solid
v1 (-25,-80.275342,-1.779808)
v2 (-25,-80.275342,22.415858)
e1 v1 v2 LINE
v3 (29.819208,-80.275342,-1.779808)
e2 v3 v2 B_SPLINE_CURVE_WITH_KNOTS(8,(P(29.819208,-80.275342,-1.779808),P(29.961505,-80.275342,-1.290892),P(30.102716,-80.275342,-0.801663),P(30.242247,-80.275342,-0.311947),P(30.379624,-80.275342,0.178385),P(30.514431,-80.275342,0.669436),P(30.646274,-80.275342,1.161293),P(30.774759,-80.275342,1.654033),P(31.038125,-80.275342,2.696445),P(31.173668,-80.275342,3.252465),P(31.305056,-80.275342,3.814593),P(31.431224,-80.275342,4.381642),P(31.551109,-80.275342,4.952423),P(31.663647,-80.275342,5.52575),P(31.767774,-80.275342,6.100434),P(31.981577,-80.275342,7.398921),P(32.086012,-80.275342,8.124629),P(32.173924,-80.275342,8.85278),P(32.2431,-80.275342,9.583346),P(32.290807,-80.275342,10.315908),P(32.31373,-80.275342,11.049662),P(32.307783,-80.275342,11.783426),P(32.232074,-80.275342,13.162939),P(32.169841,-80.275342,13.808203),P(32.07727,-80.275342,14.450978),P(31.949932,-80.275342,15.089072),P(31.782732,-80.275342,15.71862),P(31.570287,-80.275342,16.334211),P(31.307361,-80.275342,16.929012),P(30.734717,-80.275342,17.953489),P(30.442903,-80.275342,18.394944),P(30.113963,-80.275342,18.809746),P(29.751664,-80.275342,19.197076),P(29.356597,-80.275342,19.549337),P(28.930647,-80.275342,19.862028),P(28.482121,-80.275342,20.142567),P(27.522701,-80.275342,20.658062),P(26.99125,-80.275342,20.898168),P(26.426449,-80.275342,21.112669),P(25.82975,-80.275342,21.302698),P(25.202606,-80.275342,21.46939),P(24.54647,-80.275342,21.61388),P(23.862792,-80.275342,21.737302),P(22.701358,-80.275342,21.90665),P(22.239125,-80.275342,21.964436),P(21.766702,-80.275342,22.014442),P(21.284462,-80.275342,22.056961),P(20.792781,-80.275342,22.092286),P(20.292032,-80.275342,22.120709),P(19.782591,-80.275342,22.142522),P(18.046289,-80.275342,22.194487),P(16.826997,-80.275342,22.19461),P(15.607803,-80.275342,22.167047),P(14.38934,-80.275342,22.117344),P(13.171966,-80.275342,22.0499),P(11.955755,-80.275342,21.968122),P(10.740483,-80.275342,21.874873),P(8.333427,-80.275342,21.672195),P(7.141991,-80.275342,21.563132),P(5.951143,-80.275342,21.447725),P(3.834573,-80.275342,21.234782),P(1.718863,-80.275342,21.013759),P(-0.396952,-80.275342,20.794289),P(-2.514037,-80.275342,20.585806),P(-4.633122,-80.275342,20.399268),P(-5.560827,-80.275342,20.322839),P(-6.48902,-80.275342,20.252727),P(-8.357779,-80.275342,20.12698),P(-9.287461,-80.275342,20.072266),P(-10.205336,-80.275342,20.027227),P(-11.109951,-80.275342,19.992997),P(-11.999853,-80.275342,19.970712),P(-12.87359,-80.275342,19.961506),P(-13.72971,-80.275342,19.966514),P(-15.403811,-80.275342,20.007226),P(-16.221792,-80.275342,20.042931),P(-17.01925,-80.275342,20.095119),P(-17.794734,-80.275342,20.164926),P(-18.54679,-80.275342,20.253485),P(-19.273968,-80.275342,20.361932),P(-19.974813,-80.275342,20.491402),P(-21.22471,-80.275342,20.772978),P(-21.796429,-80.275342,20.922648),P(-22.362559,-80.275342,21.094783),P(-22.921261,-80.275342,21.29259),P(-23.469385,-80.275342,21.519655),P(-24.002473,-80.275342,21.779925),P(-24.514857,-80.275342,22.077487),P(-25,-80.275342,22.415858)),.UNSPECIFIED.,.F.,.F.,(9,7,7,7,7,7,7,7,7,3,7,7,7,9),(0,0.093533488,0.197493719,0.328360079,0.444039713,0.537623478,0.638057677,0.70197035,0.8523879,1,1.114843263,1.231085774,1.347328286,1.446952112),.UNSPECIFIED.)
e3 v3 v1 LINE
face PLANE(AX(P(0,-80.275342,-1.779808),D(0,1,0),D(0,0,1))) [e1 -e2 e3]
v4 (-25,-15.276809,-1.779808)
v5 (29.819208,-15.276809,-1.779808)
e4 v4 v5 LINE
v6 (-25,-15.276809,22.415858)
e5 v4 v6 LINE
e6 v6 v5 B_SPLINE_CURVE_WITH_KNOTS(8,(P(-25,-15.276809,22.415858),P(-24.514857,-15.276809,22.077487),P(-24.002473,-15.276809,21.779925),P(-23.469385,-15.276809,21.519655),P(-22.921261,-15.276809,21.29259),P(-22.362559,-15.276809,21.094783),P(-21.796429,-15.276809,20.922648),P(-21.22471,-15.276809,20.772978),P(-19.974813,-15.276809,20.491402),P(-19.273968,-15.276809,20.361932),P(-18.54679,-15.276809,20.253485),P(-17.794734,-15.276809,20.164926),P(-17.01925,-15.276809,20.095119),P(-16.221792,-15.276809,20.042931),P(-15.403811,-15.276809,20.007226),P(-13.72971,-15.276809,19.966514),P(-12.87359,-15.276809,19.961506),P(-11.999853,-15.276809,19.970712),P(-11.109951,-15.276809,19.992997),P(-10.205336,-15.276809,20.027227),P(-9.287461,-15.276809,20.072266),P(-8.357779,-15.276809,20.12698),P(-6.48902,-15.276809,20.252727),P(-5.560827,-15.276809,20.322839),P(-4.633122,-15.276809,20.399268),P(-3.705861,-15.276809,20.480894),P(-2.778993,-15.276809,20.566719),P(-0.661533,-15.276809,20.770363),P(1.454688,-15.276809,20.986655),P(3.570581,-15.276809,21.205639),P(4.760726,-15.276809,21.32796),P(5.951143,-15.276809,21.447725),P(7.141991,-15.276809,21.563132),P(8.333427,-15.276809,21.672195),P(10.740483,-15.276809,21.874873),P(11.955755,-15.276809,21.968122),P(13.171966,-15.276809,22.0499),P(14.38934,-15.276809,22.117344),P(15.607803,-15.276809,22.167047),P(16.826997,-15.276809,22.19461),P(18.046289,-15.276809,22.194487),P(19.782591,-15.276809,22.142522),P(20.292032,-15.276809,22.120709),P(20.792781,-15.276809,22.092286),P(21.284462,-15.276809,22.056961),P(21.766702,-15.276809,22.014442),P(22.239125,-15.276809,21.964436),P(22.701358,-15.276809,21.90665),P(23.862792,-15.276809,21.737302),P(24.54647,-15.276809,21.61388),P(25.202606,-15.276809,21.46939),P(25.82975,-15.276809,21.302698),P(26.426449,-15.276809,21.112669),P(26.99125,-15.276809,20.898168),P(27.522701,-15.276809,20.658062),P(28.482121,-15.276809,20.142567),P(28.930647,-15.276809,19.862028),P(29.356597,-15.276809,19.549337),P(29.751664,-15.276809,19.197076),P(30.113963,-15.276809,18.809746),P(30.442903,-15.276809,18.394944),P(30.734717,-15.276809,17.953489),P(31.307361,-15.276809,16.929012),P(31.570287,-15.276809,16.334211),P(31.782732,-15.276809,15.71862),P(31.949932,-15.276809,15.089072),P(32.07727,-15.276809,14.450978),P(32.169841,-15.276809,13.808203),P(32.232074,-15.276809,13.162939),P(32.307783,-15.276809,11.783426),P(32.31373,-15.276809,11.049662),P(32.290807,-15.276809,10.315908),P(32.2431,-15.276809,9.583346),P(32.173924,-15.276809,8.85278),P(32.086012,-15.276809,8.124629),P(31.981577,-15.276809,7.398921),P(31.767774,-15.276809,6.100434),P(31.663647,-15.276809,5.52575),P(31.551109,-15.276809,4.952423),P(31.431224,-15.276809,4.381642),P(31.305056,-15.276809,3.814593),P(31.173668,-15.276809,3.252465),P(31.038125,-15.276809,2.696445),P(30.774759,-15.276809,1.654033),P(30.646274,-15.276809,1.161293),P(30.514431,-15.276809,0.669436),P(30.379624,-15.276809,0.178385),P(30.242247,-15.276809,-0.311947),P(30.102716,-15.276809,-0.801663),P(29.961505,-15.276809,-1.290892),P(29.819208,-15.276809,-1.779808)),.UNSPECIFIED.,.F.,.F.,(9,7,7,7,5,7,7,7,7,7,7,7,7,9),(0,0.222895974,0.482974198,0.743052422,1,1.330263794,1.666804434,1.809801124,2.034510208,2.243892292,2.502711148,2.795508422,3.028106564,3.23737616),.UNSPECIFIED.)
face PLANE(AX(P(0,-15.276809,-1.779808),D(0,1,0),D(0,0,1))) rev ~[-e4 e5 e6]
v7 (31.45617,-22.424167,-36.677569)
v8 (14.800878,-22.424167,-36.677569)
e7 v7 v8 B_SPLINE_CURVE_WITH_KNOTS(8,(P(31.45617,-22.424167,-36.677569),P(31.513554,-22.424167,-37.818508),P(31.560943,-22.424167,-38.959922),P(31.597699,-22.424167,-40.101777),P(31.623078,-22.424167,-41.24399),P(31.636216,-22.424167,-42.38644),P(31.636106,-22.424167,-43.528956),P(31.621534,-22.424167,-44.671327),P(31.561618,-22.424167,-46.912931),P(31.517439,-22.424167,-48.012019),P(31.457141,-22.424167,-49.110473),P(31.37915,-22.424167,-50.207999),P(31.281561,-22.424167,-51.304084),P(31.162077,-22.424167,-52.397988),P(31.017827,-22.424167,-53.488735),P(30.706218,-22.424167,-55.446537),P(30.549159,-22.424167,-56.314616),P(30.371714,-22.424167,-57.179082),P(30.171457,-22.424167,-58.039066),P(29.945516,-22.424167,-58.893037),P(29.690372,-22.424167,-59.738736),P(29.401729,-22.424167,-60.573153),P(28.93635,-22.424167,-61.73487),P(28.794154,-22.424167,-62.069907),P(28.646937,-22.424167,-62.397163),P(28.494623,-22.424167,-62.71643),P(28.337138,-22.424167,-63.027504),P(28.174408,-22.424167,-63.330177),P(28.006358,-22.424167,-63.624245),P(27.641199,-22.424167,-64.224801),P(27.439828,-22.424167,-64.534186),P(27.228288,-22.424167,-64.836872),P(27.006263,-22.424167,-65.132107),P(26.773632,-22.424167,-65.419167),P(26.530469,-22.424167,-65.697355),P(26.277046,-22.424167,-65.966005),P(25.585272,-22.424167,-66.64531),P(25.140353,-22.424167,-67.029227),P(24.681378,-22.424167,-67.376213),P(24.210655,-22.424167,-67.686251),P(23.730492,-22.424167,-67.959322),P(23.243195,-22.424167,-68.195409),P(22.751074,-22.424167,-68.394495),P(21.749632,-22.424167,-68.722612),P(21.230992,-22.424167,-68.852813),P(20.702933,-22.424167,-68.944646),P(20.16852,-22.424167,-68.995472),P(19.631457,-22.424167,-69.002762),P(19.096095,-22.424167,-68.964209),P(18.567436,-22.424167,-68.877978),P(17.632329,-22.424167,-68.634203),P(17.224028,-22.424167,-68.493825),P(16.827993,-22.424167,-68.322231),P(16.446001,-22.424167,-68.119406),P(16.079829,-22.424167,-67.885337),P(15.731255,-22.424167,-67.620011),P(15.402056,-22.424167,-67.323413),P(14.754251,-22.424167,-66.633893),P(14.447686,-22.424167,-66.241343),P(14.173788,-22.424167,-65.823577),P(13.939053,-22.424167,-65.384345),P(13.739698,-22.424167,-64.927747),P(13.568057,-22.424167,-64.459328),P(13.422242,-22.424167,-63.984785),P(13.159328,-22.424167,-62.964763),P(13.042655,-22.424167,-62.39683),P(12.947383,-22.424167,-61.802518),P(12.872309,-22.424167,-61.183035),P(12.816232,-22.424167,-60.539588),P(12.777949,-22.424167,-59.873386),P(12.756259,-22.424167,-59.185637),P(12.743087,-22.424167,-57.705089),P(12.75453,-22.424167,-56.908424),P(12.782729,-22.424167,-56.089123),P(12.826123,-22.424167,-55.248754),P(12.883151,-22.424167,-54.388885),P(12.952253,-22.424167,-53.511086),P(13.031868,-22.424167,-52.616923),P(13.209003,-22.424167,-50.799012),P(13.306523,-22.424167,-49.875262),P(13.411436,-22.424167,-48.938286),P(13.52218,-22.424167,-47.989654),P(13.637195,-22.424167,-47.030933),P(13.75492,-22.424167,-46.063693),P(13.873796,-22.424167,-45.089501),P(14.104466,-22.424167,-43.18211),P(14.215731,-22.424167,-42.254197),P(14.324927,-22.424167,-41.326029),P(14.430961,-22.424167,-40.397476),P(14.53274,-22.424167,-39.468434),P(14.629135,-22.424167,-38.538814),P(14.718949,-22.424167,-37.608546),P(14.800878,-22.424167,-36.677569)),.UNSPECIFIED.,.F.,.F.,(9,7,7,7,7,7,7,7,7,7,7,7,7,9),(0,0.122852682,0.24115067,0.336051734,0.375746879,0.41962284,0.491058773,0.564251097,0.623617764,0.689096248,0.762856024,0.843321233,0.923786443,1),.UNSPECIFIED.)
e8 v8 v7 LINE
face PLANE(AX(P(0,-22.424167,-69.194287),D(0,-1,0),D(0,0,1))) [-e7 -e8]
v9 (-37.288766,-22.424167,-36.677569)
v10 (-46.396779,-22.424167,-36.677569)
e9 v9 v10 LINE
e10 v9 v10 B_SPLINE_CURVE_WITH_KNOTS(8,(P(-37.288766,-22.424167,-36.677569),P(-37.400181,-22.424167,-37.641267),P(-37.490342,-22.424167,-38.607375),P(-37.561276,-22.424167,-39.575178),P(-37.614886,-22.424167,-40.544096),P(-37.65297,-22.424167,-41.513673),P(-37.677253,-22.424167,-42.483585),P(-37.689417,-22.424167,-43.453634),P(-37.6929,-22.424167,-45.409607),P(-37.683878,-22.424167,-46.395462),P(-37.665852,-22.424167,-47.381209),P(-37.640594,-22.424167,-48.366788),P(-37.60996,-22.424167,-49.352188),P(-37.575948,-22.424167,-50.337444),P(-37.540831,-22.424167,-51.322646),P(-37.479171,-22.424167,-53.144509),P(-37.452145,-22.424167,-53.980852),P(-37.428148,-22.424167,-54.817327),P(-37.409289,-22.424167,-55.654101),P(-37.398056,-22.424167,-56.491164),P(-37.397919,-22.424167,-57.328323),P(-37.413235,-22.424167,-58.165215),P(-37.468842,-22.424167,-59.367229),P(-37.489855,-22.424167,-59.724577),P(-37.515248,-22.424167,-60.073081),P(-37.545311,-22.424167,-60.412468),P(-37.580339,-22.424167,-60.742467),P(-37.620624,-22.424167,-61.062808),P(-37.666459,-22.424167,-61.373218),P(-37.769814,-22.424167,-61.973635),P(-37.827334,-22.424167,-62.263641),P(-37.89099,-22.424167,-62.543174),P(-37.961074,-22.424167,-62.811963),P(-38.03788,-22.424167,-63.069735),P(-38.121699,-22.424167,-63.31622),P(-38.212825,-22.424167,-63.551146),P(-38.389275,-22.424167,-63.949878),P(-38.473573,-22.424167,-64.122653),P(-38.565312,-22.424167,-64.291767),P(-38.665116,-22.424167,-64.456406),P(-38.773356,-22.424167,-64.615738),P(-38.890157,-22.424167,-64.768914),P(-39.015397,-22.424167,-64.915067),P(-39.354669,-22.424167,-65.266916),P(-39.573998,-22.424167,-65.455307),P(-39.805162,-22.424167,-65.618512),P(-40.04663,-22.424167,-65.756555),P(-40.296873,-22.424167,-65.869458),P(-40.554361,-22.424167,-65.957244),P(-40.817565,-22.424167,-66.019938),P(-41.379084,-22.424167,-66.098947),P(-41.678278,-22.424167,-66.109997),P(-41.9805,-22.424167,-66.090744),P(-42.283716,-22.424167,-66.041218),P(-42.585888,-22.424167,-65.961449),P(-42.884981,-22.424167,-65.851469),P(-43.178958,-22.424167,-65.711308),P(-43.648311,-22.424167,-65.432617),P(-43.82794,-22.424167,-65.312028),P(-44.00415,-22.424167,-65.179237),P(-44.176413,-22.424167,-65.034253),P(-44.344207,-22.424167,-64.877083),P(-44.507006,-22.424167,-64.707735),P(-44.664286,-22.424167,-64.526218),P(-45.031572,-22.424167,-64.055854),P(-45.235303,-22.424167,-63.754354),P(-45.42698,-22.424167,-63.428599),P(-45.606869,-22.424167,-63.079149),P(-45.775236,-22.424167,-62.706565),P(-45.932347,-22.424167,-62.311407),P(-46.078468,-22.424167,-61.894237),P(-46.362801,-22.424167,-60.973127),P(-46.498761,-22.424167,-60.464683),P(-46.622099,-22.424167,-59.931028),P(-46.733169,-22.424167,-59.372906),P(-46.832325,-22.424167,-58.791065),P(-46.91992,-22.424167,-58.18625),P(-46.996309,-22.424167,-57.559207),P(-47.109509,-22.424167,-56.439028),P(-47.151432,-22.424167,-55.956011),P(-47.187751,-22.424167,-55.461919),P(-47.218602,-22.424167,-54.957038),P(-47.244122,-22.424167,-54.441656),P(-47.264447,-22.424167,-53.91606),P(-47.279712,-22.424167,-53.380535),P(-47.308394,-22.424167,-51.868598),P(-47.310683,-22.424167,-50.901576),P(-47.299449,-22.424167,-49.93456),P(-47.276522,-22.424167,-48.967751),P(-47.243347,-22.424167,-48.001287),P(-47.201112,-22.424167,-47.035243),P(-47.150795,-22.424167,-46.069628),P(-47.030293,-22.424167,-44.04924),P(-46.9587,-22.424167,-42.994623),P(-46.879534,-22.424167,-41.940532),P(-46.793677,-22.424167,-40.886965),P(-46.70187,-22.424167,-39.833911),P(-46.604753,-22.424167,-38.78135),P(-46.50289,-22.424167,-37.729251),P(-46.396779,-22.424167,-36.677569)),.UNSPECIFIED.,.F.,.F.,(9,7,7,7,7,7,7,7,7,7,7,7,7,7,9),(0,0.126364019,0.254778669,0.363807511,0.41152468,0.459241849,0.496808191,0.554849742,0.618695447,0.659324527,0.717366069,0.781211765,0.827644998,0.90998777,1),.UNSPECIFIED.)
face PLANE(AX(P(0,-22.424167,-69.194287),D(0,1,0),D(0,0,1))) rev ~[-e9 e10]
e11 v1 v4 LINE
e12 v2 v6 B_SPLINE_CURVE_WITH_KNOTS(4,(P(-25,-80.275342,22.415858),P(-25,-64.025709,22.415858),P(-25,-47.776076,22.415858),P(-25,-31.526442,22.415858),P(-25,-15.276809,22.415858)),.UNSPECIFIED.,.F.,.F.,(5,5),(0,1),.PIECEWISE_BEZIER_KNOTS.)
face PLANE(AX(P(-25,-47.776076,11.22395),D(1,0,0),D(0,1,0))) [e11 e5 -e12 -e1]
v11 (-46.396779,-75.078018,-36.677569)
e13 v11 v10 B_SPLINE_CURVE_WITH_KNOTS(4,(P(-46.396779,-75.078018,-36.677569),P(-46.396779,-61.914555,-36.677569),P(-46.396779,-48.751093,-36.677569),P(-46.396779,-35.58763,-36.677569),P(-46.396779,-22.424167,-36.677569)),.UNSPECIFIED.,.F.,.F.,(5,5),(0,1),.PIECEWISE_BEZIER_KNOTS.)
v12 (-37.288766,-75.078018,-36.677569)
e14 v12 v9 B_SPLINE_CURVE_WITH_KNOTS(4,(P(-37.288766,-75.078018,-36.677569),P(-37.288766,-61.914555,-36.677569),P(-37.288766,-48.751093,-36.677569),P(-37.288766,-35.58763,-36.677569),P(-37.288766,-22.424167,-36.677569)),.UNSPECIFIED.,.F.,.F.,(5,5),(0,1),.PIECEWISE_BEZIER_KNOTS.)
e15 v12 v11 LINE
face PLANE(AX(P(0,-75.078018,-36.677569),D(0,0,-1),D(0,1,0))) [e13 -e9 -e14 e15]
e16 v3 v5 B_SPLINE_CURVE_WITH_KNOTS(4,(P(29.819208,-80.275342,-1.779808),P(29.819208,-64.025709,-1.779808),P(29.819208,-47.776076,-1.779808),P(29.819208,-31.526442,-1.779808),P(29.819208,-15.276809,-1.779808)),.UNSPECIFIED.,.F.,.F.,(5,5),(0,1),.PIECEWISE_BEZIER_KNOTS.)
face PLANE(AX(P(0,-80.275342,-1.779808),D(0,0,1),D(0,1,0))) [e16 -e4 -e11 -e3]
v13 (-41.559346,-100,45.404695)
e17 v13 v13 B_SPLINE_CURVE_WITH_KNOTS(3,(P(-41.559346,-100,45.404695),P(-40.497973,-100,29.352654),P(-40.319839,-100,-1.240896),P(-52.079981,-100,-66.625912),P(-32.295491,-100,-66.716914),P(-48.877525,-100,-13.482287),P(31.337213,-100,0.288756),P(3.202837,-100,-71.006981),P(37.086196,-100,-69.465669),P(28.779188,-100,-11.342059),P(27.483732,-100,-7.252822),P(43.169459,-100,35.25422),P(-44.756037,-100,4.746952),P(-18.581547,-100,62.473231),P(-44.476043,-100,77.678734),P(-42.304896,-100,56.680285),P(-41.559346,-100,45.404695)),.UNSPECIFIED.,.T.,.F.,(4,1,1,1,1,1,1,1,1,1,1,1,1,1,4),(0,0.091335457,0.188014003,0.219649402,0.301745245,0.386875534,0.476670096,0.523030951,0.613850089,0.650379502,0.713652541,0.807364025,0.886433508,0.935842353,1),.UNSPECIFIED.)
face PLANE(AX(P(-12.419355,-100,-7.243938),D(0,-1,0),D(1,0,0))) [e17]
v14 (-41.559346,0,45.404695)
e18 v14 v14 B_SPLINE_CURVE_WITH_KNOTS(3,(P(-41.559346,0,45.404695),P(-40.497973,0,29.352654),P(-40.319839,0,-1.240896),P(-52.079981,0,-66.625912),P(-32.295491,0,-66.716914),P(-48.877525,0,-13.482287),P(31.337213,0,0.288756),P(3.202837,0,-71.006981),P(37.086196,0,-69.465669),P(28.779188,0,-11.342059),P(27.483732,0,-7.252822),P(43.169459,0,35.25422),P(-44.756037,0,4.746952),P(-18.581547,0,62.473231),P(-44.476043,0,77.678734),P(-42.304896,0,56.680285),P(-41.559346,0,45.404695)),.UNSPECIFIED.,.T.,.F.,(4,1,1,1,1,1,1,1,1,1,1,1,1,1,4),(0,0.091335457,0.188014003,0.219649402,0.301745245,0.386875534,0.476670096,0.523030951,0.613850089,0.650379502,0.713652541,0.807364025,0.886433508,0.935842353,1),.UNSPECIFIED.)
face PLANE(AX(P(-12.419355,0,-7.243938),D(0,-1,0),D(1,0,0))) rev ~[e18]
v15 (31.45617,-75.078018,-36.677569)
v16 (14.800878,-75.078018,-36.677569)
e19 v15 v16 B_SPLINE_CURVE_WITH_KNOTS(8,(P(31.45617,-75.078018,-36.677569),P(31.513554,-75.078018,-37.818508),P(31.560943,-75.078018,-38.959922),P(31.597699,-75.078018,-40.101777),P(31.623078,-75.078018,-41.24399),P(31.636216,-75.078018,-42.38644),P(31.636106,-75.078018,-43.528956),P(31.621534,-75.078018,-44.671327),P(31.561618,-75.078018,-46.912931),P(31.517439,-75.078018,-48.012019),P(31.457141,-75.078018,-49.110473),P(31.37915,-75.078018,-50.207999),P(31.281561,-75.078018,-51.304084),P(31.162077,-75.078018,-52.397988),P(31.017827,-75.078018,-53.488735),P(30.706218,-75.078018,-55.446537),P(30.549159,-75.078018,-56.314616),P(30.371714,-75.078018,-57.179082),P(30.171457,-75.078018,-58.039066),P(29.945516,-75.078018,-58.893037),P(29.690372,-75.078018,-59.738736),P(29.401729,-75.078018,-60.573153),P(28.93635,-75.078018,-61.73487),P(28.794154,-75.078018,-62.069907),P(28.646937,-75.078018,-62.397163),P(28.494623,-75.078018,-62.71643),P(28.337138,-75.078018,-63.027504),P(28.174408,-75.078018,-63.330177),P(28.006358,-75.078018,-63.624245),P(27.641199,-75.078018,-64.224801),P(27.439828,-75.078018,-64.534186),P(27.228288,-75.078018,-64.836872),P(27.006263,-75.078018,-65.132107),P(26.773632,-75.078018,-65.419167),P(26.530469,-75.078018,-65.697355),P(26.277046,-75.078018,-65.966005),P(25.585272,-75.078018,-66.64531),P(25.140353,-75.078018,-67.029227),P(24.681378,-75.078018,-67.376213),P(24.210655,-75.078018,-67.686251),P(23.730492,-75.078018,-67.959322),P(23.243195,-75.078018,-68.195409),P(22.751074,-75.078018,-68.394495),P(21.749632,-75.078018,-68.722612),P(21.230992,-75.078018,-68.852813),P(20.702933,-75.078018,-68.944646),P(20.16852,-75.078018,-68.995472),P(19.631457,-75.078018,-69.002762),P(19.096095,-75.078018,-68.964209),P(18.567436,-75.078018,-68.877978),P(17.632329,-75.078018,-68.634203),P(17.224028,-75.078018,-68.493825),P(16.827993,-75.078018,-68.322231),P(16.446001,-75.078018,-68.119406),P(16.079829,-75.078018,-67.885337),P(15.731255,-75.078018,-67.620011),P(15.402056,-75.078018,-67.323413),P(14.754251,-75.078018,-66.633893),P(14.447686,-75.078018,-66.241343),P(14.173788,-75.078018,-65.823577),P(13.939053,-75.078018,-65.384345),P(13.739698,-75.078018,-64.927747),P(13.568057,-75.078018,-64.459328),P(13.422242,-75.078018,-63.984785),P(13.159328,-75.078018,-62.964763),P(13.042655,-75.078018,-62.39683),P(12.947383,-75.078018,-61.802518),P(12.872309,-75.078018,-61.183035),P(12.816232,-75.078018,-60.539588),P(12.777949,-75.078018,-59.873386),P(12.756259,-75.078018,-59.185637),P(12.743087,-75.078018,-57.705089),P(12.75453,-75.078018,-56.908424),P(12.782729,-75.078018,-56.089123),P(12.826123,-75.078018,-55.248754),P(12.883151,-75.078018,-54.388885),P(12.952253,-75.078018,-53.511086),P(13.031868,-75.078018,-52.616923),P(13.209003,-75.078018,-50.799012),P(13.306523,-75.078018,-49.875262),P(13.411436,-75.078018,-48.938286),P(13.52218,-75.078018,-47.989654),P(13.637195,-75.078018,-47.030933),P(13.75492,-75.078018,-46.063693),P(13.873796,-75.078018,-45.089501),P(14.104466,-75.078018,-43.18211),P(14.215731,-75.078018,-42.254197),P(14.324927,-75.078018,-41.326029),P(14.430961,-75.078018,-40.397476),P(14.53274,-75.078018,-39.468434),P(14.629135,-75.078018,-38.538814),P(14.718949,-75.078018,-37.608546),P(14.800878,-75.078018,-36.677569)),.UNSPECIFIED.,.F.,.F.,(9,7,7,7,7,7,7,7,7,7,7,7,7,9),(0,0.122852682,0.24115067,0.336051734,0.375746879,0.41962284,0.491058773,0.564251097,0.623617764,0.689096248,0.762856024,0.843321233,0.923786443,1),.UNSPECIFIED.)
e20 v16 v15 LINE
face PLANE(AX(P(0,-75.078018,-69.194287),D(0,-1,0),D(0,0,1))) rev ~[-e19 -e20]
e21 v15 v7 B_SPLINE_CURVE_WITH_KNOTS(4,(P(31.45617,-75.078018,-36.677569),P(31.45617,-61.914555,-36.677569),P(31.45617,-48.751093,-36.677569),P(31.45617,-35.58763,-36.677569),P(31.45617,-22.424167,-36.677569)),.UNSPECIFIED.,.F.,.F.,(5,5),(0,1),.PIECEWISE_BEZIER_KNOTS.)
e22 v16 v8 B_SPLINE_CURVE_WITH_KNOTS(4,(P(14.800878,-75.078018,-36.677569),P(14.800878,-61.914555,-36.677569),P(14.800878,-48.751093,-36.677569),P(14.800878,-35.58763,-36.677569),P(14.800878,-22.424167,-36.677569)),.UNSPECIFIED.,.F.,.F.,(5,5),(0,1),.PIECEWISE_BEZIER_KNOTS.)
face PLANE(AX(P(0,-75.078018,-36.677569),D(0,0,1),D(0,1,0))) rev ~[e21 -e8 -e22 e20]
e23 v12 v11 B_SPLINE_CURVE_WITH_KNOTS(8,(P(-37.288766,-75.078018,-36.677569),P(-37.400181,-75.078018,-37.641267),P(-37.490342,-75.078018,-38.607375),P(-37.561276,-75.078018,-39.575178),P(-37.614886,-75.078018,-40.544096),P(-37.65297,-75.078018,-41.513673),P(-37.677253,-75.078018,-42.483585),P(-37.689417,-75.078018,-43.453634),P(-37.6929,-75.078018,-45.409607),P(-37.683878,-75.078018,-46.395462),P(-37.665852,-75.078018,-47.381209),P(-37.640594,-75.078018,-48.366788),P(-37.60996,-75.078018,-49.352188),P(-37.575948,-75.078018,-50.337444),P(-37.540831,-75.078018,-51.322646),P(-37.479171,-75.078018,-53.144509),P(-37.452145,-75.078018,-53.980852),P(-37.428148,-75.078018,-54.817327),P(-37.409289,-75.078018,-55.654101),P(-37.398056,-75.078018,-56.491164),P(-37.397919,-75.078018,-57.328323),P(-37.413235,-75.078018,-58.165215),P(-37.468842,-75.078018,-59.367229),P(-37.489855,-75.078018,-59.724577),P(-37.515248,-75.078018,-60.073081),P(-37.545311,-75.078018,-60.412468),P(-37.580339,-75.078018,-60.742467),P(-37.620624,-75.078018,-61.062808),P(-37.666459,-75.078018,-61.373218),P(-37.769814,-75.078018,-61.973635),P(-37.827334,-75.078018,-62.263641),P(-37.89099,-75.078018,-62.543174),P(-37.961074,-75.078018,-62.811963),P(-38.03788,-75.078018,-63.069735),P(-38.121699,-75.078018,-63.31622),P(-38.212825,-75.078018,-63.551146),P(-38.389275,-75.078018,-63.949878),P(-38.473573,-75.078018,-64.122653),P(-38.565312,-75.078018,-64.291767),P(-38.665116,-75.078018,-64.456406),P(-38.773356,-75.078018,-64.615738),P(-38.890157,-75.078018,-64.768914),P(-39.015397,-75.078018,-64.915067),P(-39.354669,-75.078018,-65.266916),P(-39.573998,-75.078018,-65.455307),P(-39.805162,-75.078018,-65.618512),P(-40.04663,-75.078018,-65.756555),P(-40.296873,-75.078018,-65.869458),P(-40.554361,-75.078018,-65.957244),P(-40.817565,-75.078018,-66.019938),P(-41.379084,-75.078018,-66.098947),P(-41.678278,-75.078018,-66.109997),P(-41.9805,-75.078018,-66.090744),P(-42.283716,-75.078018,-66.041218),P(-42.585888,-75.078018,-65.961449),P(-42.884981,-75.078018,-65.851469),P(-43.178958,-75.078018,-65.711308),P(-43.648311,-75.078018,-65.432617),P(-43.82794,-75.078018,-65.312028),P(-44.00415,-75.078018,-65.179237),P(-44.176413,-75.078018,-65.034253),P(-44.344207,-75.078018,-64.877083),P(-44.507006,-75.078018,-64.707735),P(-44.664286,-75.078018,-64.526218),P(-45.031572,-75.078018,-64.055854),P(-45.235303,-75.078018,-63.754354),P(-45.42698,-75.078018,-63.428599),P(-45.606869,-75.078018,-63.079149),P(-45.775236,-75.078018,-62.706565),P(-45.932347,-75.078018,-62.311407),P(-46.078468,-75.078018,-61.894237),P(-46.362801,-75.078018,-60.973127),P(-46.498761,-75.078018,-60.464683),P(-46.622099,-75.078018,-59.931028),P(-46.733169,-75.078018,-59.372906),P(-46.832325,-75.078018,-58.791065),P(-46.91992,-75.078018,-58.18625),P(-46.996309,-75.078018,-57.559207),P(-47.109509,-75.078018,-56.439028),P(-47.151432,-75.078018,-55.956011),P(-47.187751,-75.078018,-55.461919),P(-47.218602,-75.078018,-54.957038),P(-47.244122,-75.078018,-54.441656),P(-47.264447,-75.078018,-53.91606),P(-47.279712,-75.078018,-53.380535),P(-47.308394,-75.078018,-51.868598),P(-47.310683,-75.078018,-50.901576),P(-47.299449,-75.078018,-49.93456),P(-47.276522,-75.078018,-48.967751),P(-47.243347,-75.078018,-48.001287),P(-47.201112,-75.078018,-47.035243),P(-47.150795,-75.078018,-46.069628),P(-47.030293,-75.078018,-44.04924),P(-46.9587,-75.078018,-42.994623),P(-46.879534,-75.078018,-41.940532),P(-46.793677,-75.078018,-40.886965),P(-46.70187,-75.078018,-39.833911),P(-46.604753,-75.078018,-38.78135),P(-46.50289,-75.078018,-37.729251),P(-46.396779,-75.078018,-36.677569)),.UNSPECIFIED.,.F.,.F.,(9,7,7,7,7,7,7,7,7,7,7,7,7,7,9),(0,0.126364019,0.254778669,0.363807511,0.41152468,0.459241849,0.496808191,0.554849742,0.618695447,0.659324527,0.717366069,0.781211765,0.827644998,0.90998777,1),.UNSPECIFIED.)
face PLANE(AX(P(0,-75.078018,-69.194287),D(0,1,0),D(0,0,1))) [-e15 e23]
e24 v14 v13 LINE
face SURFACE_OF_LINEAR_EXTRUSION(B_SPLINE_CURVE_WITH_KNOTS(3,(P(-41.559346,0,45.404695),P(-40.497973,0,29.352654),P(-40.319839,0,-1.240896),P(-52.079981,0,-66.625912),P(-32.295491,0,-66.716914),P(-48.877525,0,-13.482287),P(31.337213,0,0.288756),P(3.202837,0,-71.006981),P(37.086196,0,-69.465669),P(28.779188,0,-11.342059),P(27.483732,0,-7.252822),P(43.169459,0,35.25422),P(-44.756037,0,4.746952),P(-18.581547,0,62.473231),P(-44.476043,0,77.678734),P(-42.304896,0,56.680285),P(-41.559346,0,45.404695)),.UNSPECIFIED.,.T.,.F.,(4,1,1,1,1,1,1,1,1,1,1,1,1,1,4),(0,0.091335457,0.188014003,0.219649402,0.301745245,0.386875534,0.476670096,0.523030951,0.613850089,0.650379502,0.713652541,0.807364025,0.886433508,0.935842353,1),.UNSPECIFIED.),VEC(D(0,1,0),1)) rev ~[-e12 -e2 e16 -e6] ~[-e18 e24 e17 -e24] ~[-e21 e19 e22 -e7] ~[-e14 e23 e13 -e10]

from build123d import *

# Parameters (mm, degrees)
F1_DEPTH      = 100
F2_W          = 52.6538509876
F2_H          = 32.5167179108
F3_DEPTH      = 100
F3_DEPTH_BACK = 65.9
F4_W          = 64.9985326454
F4_H          = 26.0075143306
F5_DEPTH      = 58.1
F5_DEPTH_BACK = 25


with BuildPart() as f1:
    # F0 (on Front) → F1 (new body)
    with BuildSketch(Plane.XZ):
        with BuildLine():
            add(Edge.make_bspline(
                [(-41.5593460202, 45.4046949744), (-40.4979732322, 29.3526537956), (-40.3198392171, -1.2408962467), (-52.0799811569, -66.6259117244), (-32.2954905988, -66.7169142716), (-48.8775253034, -13.4822867555), (31.3372129944, 0.2887557538), (3.202836623, -71.0069808083), (37.0861955706, -69.4656694376), (28.7791878181, -11.3420586124), (27.4837315969, -7.252822457), (43.1694588497, 35.2542196081), (-44.7560371019, 4.7469524572), (-18.5815465781, 62.4732314899), (-44.4760427042, 77.6787338301), (-42.3048963556, 56.6802852475), (-41.5593460202, 45.4046949744)],
                knots=[0, 0, 0, 0, 0.0913354569, 0.1880140027, 0.2196494015, 0.3017452455, 0.3868755342, 0.4766700957, 0.5230309507, 0.613850089, 0.6503795021, 0.7136525407, 0.8073640248, 0.8864335079, 0.9358423531, 1, 1, 1, 1], degree=3))
        make_face()
    extrude(amount=F1_DEPTH)

    # F2 (on Right) → F3 (cut, two sides)
    with BuildSketch(Plane.YZ) as f3_sk:
        with Locations((-48.7510925159, -52.9359281063)):
            Rectangle(F2_W, F2_H)
    extrude(amount=-F3_DEPTH, mode=Mode.SUBTRACT)
    extrude(f3_sk.sketch, amount=F3_DEPTH_BACK, mode=Mode.SUBTRACT)

    # F4 (on Right) → F5 (cut, two sides)
    with BuildSketch(Plane.YZ) as f5_sk:
        with Locations((-47.7760755457, 11.2239495502)):
            Rectangle(F4_W, F4_H)
    extrude(amount=F5_DEPTH, mode=Mode.SUBTRACT)
    extrude(f5_sk.sketch, amount=-F5_DEPTH_BACK, mode=Mode.SUBTRACT)


solid = f1.part
